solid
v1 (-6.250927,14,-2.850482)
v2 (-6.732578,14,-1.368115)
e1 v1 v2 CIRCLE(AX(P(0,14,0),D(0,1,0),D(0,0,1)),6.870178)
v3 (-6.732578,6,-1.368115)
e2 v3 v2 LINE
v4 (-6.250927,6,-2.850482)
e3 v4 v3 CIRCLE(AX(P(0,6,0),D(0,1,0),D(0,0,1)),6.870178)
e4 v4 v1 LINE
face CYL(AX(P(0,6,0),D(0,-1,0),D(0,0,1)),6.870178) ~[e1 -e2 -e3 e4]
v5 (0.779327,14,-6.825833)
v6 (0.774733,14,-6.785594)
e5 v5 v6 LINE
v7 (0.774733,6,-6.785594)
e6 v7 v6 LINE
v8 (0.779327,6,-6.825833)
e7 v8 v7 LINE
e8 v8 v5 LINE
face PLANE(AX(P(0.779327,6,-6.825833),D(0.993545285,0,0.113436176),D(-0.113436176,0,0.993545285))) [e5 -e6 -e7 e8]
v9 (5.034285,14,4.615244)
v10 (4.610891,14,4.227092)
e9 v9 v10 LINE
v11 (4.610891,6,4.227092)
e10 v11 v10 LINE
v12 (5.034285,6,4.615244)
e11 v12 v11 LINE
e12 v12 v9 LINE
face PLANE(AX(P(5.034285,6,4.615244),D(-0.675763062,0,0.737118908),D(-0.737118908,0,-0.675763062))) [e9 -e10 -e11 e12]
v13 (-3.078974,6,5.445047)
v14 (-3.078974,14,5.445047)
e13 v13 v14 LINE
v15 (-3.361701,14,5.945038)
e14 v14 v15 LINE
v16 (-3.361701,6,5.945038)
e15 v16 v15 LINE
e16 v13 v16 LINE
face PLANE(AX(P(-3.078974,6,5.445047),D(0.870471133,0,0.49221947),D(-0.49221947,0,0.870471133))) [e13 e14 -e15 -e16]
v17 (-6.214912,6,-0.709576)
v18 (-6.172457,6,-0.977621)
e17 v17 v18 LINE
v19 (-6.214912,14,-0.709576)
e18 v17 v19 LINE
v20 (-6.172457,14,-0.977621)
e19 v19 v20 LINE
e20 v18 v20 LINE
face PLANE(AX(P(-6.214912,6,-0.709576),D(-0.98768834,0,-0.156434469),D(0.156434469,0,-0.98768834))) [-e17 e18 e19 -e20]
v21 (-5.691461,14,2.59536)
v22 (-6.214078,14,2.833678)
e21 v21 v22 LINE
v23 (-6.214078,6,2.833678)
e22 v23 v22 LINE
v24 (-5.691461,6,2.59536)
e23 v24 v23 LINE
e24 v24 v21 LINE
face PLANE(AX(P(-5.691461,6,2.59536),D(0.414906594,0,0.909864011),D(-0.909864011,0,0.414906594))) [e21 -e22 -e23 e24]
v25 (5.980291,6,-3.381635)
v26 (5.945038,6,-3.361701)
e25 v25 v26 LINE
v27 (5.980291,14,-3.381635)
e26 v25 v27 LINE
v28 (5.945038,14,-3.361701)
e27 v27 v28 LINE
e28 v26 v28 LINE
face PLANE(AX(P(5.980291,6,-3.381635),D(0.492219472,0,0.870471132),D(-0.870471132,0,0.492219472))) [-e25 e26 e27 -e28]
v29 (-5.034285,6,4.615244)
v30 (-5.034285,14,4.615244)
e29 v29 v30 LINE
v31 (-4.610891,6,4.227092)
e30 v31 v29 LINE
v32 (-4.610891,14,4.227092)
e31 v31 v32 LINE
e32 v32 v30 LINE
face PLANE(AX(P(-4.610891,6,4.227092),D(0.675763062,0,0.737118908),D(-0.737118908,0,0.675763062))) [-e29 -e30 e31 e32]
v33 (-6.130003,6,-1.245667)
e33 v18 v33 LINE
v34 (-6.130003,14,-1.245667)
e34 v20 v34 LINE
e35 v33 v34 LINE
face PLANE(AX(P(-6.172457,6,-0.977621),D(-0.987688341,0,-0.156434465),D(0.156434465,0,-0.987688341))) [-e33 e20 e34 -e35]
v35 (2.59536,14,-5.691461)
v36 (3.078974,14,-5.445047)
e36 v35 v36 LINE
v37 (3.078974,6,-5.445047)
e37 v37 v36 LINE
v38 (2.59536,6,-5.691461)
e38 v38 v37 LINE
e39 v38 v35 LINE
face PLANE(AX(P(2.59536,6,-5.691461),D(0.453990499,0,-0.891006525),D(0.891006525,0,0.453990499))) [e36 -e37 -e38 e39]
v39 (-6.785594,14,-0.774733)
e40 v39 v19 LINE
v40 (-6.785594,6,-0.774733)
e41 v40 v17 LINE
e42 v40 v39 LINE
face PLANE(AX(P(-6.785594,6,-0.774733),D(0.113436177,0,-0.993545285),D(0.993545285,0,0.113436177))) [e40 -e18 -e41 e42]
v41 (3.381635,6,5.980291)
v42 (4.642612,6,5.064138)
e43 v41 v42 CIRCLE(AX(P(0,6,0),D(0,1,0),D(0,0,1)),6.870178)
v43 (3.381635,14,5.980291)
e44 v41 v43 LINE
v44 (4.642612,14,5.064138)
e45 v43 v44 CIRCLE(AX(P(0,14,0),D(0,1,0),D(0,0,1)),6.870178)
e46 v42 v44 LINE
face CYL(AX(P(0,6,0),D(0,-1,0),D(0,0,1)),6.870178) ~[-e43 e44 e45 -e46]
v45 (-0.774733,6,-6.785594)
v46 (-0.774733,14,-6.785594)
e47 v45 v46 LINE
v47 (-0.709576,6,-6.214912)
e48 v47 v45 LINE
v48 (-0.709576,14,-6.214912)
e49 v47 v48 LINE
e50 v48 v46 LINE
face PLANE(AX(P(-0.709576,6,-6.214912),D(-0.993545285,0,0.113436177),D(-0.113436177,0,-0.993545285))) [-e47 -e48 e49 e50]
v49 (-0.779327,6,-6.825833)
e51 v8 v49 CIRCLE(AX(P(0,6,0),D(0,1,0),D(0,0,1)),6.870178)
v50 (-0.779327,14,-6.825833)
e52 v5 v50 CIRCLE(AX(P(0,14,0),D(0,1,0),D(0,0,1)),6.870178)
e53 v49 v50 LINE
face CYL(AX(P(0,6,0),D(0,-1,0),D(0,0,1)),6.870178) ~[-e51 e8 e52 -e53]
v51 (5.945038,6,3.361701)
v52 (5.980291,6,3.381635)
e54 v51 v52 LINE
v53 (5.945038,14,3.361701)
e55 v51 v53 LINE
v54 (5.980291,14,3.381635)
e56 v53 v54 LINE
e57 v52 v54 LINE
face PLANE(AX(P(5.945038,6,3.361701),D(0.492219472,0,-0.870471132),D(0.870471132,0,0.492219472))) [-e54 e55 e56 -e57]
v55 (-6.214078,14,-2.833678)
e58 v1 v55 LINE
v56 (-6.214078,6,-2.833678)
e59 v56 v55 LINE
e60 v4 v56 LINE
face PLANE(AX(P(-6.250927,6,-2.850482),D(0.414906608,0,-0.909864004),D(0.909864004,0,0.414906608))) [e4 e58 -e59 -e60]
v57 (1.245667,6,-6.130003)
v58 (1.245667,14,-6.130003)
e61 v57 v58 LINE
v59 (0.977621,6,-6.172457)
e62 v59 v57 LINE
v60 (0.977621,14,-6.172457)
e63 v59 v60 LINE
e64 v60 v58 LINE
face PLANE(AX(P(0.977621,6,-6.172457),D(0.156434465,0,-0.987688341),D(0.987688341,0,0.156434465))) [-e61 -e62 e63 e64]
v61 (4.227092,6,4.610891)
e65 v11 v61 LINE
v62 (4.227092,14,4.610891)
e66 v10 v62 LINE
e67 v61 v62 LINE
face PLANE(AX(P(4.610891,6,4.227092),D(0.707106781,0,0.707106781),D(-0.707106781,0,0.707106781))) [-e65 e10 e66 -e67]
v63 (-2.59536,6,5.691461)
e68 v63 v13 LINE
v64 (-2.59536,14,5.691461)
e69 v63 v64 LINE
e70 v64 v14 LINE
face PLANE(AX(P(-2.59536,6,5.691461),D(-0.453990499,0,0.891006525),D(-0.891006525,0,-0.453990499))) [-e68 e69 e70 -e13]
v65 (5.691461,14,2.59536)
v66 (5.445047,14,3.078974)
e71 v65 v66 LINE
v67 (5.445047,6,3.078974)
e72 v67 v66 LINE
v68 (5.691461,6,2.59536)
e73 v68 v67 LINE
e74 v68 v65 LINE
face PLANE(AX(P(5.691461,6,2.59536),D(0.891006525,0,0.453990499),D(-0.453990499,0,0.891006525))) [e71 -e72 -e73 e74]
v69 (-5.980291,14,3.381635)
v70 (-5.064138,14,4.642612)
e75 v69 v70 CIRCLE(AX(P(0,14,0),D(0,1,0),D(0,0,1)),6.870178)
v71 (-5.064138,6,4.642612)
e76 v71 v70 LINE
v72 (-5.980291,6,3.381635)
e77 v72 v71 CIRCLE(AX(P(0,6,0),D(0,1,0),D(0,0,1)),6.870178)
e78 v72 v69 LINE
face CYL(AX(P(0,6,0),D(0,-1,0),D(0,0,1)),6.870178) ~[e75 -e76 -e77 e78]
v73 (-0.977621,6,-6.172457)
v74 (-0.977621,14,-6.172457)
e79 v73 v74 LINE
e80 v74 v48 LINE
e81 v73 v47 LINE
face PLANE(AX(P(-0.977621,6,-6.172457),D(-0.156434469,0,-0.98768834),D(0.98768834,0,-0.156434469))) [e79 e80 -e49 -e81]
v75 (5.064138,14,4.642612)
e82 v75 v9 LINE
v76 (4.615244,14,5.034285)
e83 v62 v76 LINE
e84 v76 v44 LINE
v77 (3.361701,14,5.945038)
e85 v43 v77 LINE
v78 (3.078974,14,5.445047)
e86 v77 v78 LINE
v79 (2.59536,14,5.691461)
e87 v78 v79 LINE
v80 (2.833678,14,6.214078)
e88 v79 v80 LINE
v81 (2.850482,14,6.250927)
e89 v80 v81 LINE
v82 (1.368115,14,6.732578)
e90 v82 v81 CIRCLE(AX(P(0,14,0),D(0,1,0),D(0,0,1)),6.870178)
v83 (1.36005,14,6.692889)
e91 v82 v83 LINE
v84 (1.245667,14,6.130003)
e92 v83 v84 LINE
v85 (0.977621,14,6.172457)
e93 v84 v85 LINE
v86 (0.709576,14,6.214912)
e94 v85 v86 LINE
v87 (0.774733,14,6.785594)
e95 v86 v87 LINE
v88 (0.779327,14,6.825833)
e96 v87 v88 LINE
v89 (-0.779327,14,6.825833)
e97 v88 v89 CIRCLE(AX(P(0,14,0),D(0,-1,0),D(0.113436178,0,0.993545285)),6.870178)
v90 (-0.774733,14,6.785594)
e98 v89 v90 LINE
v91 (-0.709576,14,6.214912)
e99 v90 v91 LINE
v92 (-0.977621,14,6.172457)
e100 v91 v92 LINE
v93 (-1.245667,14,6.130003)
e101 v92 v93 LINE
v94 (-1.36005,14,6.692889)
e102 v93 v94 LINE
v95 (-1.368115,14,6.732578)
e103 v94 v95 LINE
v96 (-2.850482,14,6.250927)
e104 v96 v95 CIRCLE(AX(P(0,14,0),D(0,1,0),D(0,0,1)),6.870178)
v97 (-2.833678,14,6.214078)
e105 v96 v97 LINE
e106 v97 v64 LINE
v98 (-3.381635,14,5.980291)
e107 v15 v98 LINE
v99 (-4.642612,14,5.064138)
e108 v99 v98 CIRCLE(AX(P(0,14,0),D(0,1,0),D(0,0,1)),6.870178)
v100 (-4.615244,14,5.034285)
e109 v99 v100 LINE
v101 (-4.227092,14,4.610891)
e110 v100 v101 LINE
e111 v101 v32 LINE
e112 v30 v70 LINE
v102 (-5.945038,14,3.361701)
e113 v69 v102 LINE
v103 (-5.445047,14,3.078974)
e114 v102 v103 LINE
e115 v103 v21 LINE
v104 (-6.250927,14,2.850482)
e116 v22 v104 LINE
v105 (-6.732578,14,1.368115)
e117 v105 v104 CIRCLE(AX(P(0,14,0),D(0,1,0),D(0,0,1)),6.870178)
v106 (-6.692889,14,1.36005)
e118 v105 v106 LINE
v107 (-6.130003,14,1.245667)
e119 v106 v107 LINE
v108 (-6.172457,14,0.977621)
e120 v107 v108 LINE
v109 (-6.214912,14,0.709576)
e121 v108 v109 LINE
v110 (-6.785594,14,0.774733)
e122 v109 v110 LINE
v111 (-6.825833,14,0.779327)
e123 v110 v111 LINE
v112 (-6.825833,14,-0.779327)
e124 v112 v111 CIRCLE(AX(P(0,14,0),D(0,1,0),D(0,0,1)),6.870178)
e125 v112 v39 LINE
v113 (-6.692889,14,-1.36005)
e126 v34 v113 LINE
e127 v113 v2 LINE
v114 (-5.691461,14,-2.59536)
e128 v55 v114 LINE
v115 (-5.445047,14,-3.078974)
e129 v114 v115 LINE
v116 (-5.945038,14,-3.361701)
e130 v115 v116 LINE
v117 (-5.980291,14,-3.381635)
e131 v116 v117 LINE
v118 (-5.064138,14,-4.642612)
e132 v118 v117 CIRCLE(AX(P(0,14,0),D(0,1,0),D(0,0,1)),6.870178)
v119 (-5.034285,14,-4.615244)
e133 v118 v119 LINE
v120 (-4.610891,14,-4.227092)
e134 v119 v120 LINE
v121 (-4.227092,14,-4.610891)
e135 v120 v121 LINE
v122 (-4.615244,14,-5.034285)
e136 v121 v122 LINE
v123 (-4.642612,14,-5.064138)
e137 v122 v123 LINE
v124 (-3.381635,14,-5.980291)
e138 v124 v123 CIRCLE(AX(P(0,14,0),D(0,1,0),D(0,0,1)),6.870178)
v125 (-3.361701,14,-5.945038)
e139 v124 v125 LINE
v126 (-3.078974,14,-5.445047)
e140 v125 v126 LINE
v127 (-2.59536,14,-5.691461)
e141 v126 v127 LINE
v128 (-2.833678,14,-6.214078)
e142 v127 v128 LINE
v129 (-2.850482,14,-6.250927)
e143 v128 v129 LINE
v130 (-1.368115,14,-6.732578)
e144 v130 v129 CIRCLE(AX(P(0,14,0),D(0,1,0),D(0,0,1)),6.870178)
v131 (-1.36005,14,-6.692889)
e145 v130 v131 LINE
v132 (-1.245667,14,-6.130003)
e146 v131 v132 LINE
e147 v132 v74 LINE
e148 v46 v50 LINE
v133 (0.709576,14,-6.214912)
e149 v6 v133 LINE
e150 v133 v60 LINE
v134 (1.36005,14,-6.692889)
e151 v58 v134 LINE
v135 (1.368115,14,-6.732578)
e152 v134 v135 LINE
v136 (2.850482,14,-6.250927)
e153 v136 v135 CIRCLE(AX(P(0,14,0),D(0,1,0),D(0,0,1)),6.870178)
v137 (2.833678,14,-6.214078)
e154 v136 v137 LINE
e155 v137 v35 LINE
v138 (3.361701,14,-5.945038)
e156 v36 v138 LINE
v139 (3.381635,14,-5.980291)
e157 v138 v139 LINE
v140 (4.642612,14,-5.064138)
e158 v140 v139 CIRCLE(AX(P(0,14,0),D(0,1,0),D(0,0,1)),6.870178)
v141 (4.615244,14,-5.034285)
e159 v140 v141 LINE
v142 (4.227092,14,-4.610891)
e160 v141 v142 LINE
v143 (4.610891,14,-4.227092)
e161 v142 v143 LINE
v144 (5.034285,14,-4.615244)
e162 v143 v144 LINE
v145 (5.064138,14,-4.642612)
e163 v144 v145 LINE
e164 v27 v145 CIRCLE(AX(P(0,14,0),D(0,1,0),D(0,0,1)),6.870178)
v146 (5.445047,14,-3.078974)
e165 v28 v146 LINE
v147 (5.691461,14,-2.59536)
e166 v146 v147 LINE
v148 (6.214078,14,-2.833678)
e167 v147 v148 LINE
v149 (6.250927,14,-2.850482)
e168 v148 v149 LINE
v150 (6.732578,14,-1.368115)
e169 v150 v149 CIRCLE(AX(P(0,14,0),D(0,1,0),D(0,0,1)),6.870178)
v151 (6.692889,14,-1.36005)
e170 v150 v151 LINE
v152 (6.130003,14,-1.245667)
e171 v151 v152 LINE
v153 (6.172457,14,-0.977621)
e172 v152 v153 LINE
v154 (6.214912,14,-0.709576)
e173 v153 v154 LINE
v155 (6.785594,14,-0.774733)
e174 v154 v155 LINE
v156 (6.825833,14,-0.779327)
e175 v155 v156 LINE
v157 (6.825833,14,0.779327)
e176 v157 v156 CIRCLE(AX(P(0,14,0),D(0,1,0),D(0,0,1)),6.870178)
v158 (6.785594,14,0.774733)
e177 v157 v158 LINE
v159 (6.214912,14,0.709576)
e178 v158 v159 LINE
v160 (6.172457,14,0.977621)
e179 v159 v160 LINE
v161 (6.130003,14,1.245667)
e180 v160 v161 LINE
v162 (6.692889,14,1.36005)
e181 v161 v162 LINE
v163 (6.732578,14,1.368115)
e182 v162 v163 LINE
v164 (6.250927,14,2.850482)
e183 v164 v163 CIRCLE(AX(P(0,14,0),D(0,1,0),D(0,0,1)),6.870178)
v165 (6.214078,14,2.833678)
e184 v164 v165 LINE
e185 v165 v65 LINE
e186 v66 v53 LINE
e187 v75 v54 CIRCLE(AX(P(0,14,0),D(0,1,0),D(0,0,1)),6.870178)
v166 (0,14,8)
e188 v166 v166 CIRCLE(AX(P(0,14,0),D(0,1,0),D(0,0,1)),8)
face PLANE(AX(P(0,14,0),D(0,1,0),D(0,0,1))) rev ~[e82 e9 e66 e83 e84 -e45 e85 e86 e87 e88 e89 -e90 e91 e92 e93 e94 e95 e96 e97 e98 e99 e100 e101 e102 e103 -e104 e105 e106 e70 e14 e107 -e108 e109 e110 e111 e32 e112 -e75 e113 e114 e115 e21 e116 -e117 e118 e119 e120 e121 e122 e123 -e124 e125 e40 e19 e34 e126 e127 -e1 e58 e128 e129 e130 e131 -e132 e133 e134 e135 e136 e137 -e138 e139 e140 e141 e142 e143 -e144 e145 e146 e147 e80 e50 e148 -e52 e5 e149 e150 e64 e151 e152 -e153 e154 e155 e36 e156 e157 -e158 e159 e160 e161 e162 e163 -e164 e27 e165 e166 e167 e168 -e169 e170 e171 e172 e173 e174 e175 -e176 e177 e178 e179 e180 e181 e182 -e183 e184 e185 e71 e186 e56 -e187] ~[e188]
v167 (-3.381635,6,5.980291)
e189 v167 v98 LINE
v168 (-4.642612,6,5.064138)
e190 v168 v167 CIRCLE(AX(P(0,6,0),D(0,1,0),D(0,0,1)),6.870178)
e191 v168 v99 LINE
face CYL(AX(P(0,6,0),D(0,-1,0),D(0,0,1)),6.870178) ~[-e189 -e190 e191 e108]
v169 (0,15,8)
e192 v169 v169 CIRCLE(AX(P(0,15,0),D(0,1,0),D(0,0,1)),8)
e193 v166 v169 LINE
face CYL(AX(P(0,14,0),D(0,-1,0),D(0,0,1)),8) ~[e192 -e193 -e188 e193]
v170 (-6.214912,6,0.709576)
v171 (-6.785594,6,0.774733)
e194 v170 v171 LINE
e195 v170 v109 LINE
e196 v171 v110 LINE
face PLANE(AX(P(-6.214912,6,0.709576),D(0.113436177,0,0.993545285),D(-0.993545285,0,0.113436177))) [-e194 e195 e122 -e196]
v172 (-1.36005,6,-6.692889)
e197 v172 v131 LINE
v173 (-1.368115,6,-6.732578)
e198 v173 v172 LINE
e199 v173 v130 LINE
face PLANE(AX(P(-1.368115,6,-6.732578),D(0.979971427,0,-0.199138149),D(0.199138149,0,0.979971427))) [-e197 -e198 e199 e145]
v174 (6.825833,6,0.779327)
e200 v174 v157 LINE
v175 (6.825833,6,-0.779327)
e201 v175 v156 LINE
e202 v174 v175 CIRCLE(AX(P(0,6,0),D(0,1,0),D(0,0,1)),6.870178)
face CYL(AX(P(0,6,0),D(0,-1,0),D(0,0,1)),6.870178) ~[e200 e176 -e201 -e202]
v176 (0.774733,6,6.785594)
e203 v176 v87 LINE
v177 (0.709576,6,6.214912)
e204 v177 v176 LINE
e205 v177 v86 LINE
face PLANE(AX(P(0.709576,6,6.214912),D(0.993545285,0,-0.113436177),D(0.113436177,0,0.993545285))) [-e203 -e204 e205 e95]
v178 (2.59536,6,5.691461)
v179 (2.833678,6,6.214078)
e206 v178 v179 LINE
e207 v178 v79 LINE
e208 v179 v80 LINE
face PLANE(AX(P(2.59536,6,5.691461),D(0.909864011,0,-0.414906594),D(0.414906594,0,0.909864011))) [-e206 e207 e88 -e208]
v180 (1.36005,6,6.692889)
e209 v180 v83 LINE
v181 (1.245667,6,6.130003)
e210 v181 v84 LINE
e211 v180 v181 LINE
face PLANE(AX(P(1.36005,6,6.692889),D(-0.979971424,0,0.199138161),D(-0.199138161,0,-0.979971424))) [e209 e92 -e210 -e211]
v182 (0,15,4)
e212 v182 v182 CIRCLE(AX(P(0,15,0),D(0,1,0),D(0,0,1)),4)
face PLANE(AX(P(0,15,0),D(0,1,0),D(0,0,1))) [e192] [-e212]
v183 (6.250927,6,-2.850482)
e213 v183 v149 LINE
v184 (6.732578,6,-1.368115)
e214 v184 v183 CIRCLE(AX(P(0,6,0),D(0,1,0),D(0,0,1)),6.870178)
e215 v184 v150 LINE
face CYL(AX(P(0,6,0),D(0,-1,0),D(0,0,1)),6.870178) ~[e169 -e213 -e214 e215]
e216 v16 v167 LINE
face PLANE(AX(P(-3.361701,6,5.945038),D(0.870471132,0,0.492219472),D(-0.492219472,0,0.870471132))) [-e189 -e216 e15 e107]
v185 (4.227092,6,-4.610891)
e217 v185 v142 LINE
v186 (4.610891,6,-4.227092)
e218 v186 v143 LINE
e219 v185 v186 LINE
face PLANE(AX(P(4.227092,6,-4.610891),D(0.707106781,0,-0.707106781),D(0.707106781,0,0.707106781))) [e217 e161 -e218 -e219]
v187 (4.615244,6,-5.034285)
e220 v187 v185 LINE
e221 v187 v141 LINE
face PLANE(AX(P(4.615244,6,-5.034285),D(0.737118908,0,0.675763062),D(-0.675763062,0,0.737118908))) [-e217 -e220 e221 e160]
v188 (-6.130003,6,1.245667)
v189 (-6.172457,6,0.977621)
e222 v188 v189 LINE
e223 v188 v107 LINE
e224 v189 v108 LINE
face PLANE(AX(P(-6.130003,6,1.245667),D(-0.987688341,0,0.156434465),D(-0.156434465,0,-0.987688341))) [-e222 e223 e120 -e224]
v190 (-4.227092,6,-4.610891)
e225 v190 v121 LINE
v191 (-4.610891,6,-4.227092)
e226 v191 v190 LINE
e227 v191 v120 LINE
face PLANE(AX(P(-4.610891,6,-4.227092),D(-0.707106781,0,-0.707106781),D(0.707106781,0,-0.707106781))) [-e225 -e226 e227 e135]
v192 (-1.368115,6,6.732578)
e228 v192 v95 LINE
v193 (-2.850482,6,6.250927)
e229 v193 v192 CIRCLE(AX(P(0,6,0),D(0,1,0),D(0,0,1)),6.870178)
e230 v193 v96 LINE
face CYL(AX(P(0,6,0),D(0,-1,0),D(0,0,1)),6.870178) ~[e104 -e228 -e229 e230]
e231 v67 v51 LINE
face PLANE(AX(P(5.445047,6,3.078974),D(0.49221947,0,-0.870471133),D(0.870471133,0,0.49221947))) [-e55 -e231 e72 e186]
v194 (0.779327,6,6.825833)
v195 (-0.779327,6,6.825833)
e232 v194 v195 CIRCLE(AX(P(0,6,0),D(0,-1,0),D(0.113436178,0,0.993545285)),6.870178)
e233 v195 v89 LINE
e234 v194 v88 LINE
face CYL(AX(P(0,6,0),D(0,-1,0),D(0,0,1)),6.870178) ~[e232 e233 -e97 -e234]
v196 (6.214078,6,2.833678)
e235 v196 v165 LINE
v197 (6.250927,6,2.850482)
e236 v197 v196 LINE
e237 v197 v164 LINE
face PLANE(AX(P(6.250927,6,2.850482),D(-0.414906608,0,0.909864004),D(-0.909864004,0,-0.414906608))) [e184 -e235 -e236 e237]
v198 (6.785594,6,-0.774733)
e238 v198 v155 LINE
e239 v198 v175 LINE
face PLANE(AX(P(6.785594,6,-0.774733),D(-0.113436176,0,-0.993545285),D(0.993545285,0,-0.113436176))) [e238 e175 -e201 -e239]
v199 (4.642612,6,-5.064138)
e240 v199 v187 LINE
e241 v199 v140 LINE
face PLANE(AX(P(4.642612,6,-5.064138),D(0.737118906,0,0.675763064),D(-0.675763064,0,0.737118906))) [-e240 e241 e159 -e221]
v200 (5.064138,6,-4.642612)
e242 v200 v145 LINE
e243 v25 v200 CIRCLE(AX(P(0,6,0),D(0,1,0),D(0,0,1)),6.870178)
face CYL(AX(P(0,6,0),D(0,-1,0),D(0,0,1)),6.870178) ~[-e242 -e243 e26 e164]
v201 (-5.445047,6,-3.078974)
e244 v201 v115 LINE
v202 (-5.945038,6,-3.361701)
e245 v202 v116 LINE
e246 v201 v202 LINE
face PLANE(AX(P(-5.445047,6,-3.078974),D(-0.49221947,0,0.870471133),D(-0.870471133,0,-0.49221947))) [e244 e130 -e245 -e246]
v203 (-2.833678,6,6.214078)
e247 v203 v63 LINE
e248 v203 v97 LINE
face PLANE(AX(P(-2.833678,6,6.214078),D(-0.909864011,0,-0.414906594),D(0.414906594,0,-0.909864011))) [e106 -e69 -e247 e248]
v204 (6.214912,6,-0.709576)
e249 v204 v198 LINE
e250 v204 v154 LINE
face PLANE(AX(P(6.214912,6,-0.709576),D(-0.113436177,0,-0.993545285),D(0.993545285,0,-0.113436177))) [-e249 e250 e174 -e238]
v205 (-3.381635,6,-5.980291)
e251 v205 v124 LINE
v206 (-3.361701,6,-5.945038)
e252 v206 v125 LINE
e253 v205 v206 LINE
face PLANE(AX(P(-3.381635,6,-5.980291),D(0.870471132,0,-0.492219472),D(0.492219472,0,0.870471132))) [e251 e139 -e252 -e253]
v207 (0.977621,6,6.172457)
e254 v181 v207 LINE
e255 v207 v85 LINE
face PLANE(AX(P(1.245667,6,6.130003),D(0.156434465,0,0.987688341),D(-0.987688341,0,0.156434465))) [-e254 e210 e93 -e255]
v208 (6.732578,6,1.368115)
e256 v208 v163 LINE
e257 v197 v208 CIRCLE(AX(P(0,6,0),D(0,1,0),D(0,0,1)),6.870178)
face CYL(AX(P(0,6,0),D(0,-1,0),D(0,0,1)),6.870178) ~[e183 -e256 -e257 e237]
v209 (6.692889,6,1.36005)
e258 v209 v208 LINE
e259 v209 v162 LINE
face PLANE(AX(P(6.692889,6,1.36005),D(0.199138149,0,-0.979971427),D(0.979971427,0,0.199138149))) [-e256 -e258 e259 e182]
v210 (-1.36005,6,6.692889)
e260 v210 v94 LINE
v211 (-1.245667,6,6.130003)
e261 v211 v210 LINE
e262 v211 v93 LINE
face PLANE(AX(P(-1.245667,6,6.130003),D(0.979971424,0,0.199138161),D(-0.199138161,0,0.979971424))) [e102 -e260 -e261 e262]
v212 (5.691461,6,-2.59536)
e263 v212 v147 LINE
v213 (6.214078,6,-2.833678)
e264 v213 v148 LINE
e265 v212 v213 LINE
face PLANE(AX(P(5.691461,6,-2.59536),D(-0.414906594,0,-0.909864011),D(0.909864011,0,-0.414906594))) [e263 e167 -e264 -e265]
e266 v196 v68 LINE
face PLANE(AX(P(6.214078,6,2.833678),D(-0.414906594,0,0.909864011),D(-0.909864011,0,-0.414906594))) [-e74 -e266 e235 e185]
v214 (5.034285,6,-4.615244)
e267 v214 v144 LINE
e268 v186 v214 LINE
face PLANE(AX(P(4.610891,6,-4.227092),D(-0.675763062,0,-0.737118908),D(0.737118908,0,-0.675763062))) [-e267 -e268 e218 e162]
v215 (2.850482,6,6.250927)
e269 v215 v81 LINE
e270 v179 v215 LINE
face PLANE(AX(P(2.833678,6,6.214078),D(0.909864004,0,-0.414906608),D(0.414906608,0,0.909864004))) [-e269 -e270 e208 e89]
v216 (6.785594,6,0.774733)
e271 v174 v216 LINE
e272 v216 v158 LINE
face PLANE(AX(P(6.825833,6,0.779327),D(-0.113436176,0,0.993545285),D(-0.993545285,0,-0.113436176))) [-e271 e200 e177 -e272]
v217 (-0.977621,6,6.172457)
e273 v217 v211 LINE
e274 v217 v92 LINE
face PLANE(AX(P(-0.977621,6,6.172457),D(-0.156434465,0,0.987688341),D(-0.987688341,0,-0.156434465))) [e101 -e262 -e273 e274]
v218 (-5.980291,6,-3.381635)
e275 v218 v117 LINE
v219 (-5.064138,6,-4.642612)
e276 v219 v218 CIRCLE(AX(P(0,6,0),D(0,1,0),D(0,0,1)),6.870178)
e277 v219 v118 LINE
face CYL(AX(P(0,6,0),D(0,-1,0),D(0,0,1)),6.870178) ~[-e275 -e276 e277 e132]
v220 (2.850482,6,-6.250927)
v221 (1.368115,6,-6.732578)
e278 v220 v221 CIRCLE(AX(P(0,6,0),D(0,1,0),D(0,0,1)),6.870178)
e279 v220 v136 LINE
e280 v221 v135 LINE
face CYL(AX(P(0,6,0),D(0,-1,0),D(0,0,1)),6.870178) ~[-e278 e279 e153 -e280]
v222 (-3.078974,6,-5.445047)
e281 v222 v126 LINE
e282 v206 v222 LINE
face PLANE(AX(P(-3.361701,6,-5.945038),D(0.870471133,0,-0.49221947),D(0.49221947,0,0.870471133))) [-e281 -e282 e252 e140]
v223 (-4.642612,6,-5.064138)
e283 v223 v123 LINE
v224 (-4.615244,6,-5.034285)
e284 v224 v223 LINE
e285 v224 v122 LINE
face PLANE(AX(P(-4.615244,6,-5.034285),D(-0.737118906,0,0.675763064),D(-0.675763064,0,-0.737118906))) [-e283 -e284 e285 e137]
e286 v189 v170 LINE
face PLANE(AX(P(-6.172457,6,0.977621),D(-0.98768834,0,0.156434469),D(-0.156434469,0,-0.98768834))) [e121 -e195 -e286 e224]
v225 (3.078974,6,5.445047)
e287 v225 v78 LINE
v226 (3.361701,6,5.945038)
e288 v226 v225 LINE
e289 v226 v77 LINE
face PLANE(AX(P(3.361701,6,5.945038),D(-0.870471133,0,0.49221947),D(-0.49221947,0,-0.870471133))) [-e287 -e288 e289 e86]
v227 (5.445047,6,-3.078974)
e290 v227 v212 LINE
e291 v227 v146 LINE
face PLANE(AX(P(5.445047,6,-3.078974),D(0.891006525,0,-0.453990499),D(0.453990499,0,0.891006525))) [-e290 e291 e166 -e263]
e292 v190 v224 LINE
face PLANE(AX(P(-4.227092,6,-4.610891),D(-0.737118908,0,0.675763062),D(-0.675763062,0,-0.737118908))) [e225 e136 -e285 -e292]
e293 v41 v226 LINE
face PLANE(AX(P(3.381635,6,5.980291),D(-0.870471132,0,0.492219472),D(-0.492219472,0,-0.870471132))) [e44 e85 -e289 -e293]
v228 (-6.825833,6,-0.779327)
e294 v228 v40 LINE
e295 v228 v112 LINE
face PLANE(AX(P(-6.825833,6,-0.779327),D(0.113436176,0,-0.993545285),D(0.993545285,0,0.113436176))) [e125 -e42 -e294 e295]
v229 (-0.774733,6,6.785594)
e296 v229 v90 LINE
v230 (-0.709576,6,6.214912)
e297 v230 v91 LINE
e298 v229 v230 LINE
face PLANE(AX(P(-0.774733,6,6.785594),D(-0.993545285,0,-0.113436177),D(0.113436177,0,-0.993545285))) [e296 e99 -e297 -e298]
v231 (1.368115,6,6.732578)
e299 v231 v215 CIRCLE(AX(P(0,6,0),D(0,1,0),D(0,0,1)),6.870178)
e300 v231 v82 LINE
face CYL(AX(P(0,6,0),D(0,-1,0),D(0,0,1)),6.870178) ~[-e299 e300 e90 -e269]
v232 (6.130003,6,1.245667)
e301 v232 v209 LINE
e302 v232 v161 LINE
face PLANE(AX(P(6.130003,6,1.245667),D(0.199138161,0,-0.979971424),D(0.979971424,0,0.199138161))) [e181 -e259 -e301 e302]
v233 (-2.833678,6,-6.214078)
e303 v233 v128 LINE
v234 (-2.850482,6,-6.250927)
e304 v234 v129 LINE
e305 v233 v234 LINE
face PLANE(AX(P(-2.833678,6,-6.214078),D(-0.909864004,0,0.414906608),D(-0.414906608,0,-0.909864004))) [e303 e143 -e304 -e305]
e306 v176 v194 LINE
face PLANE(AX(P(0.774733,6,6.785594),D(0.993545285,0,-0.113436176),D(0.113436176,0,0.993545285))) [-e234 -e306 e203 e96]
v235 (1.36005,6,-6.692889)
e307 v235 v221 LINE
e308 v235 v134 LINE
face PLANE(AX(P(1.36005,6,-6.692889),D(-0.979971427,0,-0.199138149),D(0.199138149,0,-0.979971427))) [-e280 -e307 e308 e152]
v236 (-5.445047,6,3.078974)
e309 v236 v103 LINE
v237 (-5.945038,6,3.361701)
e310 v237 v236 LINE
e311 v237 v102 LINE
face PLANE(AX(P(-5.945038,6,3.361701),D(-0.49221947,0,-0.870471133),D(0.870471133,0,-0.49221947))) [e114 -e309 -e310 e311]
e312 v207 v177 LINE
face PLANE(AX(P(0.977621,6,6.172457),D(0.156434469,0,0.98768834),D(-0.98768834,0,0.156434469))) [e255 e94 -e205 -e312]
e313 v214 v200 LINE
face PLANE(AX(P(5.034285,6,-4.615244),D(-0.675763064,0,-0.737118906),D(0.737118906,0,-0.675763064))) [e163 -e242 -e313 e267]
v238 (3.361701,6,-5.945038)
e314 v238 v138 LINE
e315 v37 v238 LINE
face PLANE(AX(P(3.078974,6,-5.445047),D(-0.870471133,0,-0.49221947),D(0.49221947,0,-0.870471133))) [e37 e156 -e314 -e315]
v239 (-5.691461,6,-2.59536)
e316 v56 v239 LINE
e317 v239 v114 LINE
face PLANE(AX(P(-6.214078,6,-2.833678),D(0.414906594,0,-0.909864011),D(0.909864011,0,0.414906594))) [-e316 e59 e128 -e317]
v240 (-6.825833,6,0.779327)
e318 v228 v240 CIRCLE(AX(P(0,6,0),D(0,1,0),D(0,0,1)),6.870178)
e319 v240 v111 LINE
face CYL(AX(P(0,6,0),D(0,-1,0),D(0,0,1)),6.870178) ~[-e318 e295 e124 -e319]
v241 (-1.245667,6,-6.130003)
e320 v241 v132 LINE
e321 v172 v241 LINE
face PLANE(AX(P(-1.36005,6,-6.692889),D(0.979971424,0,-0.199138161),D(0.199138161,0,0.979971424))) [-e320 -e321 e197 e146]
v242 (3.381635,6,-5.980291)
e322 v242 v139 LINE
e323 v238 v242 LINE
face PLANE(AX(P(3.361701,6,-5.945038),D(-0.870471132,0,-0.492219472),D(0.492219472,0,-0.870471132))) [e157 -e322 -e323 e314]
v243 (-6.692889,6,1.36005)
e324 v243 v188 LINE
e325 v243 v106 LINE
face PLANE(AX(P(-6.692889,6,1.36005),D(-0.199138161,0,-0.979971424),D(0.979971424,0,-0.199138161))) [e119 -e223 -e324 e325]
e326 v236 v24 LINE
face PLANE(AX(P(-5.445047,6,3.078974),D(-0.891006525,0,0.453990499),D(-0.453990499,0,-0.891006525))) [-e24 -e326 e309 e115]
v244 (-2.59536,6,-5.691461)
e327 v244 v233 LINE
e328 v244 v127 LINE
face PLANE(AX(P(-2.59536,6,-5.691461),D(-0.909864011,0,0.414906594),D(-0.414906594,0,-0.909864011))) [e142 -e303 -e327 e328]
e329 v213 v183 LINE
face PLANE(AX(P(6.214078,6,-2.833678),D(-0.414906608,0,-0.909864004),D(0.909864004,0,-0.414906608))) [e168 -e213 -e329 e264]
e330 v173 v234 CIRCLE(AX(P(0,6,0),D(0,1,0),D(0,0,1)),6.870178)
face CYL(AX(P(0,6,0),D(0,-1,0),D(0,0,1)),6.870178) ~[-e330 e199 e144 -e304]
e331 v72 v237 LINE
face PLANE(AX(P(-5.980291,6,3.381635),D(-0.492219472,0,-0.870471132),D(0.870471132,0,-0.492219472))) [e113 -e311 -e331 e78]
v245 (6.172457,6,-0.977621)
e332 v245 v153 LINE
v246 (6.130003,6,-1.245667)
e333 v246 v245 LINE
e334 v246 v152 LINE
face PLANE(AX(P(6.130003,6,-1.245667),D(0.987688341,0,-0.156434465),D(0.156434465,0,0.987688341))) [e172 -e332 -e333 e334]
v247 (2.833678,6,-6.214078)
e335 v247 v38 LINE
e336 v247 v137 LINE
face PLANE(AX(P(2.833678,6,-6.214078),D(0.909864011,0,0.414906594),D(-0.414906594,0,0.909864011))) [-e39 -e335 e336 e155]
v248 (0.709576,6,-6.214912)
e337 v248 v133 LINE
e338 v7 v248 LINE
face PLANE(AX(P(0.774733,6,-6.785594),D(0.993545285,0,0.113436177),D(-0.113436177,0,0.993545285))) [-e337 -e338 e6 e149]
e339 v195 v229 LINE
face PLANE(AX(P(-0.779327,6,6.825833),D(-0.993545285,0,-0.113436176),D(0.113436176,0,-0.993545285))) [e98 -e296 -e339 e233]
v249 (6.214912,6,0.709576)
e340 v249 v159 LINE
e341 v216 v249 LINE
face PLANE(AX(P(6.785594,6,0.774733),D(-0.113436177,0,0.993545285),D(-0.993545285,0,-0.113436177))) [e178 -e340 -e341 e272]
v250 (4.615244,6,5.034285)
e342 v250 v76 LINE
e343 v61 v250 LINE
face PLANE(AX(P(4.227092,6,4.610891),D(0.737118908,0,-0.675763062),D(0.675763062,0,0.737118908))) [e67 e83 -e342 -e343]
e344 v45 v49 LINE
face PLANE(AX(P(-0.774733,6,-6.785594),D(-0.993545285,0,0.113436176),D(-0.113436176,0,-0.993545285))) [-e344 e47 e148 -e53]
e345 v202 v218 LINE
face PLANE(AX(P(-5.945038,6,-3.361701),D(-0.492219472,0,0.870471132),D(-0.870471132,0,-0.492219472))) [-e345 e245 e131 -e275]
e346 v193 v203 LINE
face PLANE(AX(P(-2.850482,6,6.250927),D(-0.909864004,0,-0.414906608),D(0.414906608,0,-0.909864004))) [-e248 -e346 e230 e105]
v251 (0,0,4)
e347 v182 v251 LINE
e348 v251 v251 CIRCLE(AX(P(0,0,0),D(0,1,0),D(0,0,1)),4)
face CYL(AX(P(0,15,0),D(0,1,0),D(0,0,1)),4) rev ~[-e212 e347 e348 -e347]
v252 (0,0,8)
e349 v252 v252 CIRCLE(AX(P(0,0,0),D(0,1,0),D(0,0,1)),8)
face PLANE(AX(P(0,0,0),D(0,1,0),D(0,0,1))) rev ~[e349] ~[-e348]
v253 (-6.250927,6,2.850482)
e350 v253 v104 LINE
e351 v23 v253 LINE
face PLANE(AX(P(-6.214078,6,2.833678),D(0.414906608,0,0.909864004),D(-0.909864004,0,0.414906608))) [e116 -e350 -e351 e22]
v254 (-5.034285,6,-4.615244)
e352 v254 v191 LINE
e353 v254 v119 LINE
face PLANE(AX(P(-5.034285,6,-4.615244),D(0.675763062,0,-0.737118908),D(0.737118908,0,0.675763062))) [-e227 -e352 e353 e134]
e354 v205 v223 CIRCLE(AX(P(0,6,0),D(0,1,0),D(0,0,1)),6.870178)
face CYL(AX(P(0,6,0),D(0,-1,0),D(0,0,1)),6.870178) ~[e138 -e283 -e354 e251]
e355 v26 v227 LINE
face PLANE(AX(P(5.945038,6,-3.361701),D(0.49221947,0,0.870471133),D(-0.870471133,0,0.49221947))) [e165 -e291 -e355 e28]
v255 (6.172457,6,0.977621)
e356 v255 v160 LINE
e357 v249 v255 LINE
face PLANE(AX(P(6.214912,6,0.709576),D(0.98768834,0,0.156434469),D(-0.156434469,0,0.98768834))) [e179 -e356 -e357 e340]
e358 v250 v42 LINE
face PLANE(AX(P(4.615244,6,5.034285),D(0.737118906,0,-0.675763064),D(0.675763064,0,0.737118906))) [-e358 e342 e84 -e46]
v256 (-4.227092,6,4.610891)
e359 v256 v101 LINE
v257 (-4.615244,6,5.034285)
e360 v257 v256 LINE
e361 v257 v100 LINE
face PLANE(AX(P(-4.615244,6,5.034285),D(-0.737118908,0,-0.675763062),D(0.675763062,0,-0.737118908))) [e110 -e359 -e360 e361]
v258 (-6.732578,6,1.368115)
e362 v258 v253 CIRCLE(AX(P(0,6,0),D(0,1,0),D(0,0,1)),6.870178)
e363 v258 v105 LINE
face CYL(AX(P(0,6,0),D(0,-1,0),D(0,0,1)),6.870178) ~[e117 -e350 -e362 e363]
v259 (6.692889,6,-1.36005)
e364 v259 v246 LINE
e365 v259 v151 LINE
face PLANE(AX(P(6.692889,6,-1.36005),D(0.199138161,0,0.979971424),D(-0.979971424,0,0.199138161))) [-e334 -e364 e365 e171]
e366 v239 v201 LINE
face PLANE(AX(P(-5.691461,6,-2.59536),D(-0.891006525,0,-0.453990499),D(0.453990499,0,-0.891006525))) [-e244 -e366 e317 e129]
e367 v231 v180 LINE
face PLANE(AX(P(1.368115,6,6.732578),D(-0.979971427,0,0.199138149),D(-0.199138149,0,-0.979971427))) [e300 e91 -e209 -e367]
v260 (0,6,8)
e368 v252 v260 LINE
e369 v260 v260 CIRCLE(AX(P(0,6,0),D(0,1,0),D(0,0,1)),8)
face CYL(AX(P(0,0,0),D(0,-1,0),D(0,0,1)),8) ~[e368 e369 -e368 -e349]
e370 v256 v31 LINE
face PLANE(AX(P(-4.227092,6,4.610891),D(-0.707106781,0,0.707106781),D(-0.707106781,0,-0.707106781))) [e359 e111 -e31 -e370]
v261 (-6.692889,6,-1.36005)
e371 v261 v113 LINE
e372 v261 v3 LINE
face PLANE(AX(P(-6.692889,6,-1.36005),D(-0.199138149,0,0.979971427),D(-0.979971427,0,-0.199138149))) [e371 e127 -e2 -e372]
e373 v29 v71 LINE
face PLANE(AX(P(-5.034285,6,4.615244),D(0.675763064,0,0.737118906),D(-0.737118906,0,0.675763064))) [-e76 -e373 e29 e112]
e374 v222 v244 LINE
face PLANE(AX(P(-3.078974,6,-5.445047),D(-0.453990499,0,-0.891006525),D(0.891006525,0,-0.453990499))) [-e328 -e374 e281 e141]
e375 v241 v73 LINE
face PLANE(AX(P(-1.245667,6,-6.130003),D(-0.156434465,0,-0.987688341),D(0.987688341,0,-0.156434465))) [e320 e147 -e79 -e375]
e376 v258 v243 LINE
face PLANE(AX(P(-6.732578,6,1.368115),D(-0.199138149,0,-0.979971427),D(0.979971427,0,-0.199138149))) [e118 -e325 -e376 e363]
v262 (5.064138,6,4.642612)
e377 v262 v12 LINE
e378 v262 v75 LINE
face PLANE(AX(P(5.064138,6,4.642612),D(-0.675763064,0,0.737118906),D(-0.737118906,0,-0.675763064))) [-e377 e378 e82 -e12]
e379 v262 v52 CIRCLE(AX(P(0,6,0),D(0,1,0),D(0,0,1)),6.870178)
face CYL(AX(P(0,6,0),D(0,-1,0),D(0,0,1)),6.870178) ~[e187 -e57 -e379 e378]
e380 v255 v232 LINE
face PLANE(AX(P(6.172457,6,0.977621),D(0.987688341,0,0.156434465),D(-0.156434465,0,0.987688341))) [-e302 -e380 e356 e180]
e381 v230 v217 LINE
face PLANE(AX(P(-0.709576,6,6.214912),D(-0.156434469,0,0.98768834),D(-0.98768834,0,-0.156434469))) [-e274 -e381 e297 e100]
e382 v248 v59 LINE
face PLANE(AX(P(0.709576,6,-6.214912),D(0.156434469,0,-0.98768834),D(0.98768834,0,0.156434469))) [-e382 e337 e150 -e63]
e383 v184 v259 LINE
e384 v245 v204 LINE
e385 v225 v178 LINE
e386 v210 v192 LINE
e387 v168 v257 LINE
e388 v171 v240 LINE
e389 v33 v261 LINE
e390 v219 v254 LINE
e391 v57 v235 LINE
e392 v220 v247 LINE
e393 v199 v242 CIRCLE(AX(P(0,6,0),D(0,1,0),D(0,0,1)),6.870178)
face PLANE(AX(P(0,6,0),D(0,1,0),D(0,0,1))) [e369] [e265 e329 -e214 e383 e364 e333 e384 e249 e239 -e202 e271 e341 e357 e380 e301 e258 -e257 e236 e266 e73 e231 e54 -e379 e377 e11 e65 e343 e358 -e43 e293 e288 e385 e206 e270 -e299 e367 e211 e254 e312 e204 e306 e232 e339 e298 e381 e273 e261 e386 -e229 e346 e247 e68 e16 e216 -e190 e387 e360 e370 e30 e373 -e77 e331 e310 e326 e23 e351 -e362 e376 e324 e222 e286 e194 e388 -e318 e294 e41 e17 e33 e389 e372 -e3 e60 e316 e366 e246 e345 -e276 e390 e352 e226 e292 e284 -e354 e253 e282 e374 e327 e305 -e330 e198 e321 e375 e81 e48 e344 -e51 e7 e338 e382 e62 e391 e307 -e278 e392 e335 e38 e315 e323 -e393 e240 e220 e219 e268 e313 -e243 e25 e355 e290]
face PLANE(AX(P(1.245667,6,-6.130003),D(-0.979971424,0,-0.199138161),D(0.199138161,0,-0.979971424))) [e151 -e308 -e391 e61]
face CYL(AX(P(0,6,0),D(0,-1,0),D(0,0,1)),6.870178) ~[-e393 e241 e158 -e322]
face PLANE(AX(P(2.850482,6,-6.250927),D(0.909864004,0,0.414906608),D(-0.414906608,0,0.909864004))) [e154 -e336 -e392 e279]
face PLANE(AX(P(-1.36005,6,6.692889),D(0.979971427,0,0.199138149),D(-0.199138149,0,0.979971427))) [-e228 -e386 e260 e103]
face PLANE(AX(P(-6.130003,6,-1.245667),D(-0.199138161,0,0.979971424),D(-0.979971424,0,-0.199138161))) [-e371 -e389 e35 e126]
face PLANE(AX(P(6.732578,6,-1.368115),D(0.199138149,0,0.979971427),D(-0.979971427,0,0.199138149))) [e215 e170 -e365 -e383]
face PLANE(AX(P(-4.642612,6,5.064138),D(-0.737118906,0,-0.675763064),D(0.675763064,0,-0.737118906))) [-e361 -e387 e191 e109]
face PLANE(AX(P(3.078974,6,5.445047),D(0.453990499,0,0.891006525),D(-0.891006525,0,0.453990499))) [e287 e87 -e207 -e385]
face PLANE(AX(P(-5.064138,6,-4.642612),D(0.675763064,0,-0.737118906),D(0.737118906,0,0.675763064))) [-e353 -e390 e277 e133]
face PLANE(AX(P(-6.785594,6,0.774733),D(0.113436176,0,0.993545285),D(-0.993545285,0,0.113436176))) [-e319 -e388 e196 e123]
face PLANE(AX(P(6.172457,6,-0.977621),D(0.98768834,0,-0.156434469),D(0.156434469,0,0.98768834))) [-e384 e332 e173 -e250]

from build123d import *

# Parameters (mm, degrees)
SKETCH_1_R          = 8
EXTRUDE_1_DEPTH     = 6
SKETCH_2_R          = 6.870177757
EXTRUDE_2_DEPTH     = 8
CUT_EXTRUDE_START   = -8
CUT_EXTRUDE_1_DEPTH = 8
SKETCH_4_R          = 8
EXTRUDE_3_DEPTH     = 1
SKETCH_5_R          = 4
CUT_EXTRUDE_2_DEPTH = 19.788294228


with BuildPart() as part:
    # 草图1 → 凸台-拉伸1 (new body)
    with BuildSketch(Plane(origin=(0, 0, 0), x_dir=(1, 0, 0), z_dir=(0, 1, 0))):
        with Locations(Location((0, 0, 0), (0, 0, 270))):
            Circle(SKETCH_1_R)
    extrude(amount=EXTRUDE_1_DEPTH)

    # 草图2 → 凸台-拉伸2 (add)
    with BuildSketch(Plane(origin=(0, 6, 0), x_dir=(1, 0, 0), z_dir=(0, 1, 0))):
        with Locations(Location((0, 0, 0), (0, 0, 270))):
            Circle(SKETCH_2_R)
    extrude(amount=EXTRUDE_2_DEPTH)

    # 草图3 → 切除-拉伸1 (cut)
    with BuildSketch(Plane(origin=(0, 14, 0), x_dir=(1, 0, 0), z_dir=(0, 1, 0)).offset(CUT_EXTRUDE_START)):
        with BuildLine():
            Line((-0.70957594, 6.214911676), (-0.774732582, 6.785594468))
            Line((-0.774732582, 6.785594468), (-0.779326709, 6.825832718))
            ThreePointArc((-0.779326709, 6.825832718), (-1.074732582, 6.785594468), (-1.368114565, 6.732577883))
            Line((-1.368114565, 6.732577883), (-1.360049537, 6.69288937))
            Line((-1.360049537, 6.69288937), (-1.245666505, 6.130003271))
            Line((-1.245666505, 6.130003271), (-0.977621222, 6.172457473))
            Line((-0.977621222, 6.172457473), (-0.70957594, 6.214911676))
        make_face()
        with BuildLine():
            Line((1.245666505, 6.130003271), (1.360049537, 6.69288937))
            Line((1.360049537, 6.69288937), (1.368114565, 6.732577883))
            ThreePointArc((1.368114565, 6.732577883), (1.074732582, 6.785594468), (0.779326709, 6.825832718))
            Line((0.779326709, 6.825832718), (0.774732582, 6.785594468))
            Line((0.774732582, 6.785594468), (0.70957594, 6.214911676))
            Line((0.70957594, 6.214911676), (0.977621222, 6.172457473))
            Line((0.977621222, 6.172457473), (1.245666505, 6.130003271))
        make_face()
        with BuildLine():
            Line((3.078974433, 5.445047437), (3.361700531, 5.945037628))
            Line((3.361700531, 5.945037628), (3.381635254, 5.980291416))
            ThreePointArc((3.381635254, 5.980291416), (3.118995433, 6.121373204), (2.850482056, 6.250927488))
            Line((2.850482056, 6.250927488), (2.833678478, 6.214078302))
            Line((2.833678478, 6.214078302), (2.595360147, 5.691461223))
            Line((2.595360147, 5.691461223), (2.83716729, 5.56825433))
            Line((2.83716729, 5.56825433), (3.078974433, 5.445047437))
        make_face()
        with BuildLine():
            Line((4.610890891, 4.227092421), (5.034284855, 4.615244181))
            Line((5.034284855, 4.615244181), (5.064137923, 4.642612358))
            ThreePointArc((5.064137923, 4.642612358), (4.85794928, 4.85794928), (4.642612358, 5.064137923))
            Line((4.642612358, 5.064137923), (4.615244181, 5.034284855))
            Line((4.615244181, 5.034284855), (4.227092421, 4.610890891))
            Line((4.227092421, 4.610890891), (4.418991656, 4.418991656))
            Line((4.418991656, 4.418991656), (4.610890891, 4.227092421))
        make_face()
        with BuildLine():
            Line((5.691461223, 2.595360147), (6.214078302, 2.833678478))
            Line((6.214078302, 2.833678478), (6.250927488, 2.850482056))
            ThreePointArc((6.250927488, 2.850482056), (6.121373204, 3.118995433), (5.980291416, 3.381635254))
            Line((5.980291416, 3.381635254), (5.945037628, 3.361700531))
            Line((5.945037628, 3.361700531), (5.445047437, 3.078974433))
            Line((5.445047437, 3.078974433), (5.56825433, 2.83716729))
            Line((5.56825433, 2.83716729), (5.691461223, 2.595360147))
        make_face()
        with BuildLine():
            Line((6.214911676, 0.70957594), (6.785594468, 0.774732582))
            Line((6.785594468, 0.774732582), (6.825832718, 0.779326709))
            ThreePointArc((6.825832718, 0.779326709), (6.785594468, 1.074732582), (6.732577883, 1.368114565))
            Line((6.732577883, 1.368114565), (6.69288937, 1.360049537))
            Line((6.69288937, 1.360049537), (6.130003271, 1.245666505))
            Line((6.130003271, 1.245666505), (6.172457473, 0.977621222))
            Line((6.172457473, 0.977621222), (6.214911676, 0.70957594))
        make_face()
        with BuildLine():
            Line((6.130003271, -1.245666505), (6.69288937, -1.360049537))
            Line((6.69288937, -1.360049537), (6.732577883, -1.368114565))
            ThreePointArc((6.732577883, -1.368114565), (6.785594468, -1.074732582), (6.825832718, -0.779326709))
            Line((6.825832718, -0.779326709), (6.785594468, -0.774732582))
            Line((6.785594468, -0.774732582), (6.214911676, -0.70957594))
            Line((6.214911676, -0.70957594), (6.172457473, -0.977621222))
            Line((6.172457473, -0.977621222), (6.130003271, -1.245666505))
        make_face()
        with BuildLine():
            Line((5.445047437, -3.078974433), (5.945037628, -3.361700531))
            Line((5.945037628, -3.361700531), (5.980291416, -3.381635254))
            ThreePointArc((5.980291416, -3.381635254), (6.121373204, -3.118995433), (6.250927488, -2.850482056))
            Line((6.250927488, -2.850482056), (6.214078302, -2.833678478))
            Line((6.214078302, -2.833678478), (5.691461223, -2.595360147))
            Line((5.691461223, -2.595360147), (5.56825433, -2.83716729))
            Line((5.56825433, -2.83716729), (5.445047437, -3.078974433))
        make_face()
        with BuildLine():
            Line((4.227092421, -4.610890891), (4.615244181, -5.034284855))
            Line((4.615244181, -5.034284855), (4.642612358, -5.064137923))
            ThreePointArc((4.642612358, -5.064137923), (4.85794928, -4.85794928), (5.064137923, -4.642612358))
            Line((5.064137923, -4.642612358), (5.034284855, -4.615244181))
            Line((5.034284855, -4.615244181), (4.610890891, -4.227092421))
            Line((4.610890891, -4.227092421), (4.418991656, -4.418991656))
            Line((4.418991656, -4.418991656), (4.227092421, -4.610890891))
        make_face()
        with BuildLine():
            Line((2.595360147, -5.691461223), (2.833678478, -6.214078302))
            Line((2.833678478, -6.214078302), (2.850482056, -6.250927488))
            ThreePointArc((2.850482056, -6.250927488), (3.118995433, -6.121373204), (3.381635254, -5.980291416))
            Line((3.381635254, -5.980291416), (3.361700531, -5.945037628))
            Line((3.361700531, -5.945037628), (3.078974433, -5.445047437))
            Line((3.078974433, -5.445047437), (2.83716729, -5.56825433))
            Line((2.83716729, -5.56825433), (2.595360147, -5.691461223))
        make_face()
        with BuildLine():
            Line((0.70957594, -6.214911676), (0.774732582, -6.785594468))
            Line((0.774732582, -6.785594468), (0.779326709, -6.825832718))
            ThreePointArc((0.779326709, -6.825832718), (1.074732582, -6.785594468), (1.368114565, -6.732577883))
            Line((1.368114565, -6.732577883), (1.360049537, -6.69288937))
            Line((1.360049537, -6.69288937), (1.245666505, -6.130003271))
            Line((1.245666505, -6.130003271), (0.977621222, -6.172457473))
            Line((0.977621222, -6.172457473), (0.70957594, -6.214911676))
        make_face()
        with BuildLine():
            Line((-1.245666505, -6.130003271), (-1.360049537, -6.69288937))
            Line((-1.360049537, -6.69288937), (-1.368114565, -6.732577883))
            ThreePointArc((-1.368114565, -6.732577883), (-1.074732582, -6.785594468), (-0.779326709, -6.825832718))
            Line((-0.779326709, -6.825832718), (-0.774732582, -6.785594468))
            Line((-0.774732582, -6.785594468), (-0.70957594, -6.214911676))
            Line((-0.70957594, -6.214911676), (-0.977621222, -6.172457473))
            Line((-0.977621222, -6.172457473), (-1.245666505, -6.130003271))
        make_face()
        with BuildLine():
            Line((-3.078974433, -5.445047437), (-3.361700531, -5.945037628))
            Line((-3.361700531, -5.945037628), (-3.381635254, -5.980291416))
            ThreePointArc((-3.381635254, -5.980291416), (-3.118995433, -6.121373204), (-2.850482056, -6.250927488))
            Line((-2.850482056, -6.250927488), (-2.833678478, -6.214078302))
            Line((-2.833678478, -6.214078302), (-2.595360147, -5.691461223))
            Line((-2.595360147, -5.691461223), (-2.83716729, -5.56825433))
            Line((-2.83716729, -5.56825433), (-3.078974433, -5.445047437))
        make_face()
        with BuildLine():
            Line((-4.610890891, -4.227092421), (-5.034284855, -4.615244181))
            Line((-5.034284855, -4.615244181), (-5.064137923, -4.642612358))
            ThreePointArc((-5.064137923, -4.642612358), (-4.85794928, -4.85794928), (-4.642612358, -5.064137923))
            Line((-4.642612358, -5.064137923), (-4.615244181, -5.034284855))
            Line((-4.615244181, -5.034284855), (-4.227092421, -4.610890891))
            Line((-4.227092421, -4.610890891), (-4.418991656, -4.418991656))
            Line((-4.418991656, -4.418991656), (-4.610890891, -4.227092421))
        make_face()
        with BuildLine():
            Line((-5.691461223, -2.595360147), (-6.214078302, -2.833678478))
            Line((-6.214078302, -2.833678478), (-6.250927488, -2.850482056))
            ThreePointArc((-6.250927488, -2.850482056), (-6.121373204, -3.118995433), (-5.980291416, -3.381635254))
            Line((-5.980291416, -3.381635254), (-5.945037628, -3.361700531))
            Line((-5.945037628, -3.361700531), (-5.445047437, -3.078974433))
            Line((-5.445047437, -3.078974433), (-5.56825433, -2.83716729))
            Line((-5.56825433, -2.83716729), (-5.691461223, -2.595360147))
        make_face()
        with BuildLine():
            Line((-6.214911676, -0.70957594), (-6.785594468, -0.774732582))
            Line((-6.785594468, -0.774732582), (-6.825832718, -0.779326709))
            ThreePointArc((-6.825832718, -0.779326709), (-6.785594468, -1.074732582), (-6.732577883, -1.368114565))
            Line((-6.732577883, -1.368114565), (-6.69288937, -1.360049537))
            Line((-6.69288937, -1.360049537), (-6.130003271, -1.245666505))
            Line((-6.130003271, -1.245666505), (-6.172457473, -0.977621222))
            Line((-6.172457473, -0.977621222), (-6.214911676, -0.70957594))
        make_face()
        with BuildLine():
            Line((-6.130003271, 1.245666505), (-6.69288937, 1.360049537))
            Line((-6.69288937, 1.360049537), (-6.732577883, 1.368114565))
            ThreePointArc((-6.732577883, 1.368114565), (-6.785594468, 1.074732582), (-6.825832718, 0.779326709))
            Line((-6.825832718, 0.779326709), (-6.785594468, 0.774732582))
            Line((-6.785594468, 0.774732582), (-6.214911676, 0.70957594))
            Line((-6.214911676, 0.70957594), (-6.172457473, 0.977621222))
            Line((-6.172457473, 0.977621222), (-6.130003271, 1.245666505))
        make_face()
        with BuildLine():
            Line((-5.445047437, 3.078974433), (-5.945037628, 3.361700531))
            Line((-5.945037628, 3.361700531), (-5.980291416, 3.381635254))
            ThreePointArc((-5.980291416, 3.381635254), (-6.121373204, 3.118995433), (-6.250927488, 2.850482056))
            Line((-6.250927488, 2.850482056), (-6.214078302, 2.833678478))
            Line((-6.214078302, 2.833678478), (-5.691461223, 2.595360147))
            Line((-5.691461223, 2.595360147), (-5.56825433, 2.83716729))
            Line((-5.56825433, 2.83716729), (-5.445047437, 3.078974433))
        make_face()
        with BuildLine():
            Line((-4.227092421, 4.610890891), (-4.615244181, 5.034284855))
            Line((-4.615244181, 5.034284855), (-4.642612358, 5.064137923))
            ThreePointArc((-4.642612358, 5.064137923), (-4.85794928, 4.85794928), (-5.064137923, 4.642612358))
            Line((-5.064137923, 4.642612358), (-5.034284855, 4.615244181))
            Line((-5.034284855, 4.615244181), (-4.610890891, 4.227092421))
            Line((-4.610890891, 4.227092421), (-4.418991656, 4.418991656))
            Line((-4.418991656, 4.418991656), (-4.227092421, 4.610890891))
        make_face()
        with BuildLine():
            Line((-2.595360147, 5.691461223), (-2.833678478, 6.214078302))
            Line((-2.833678478, 6.214078302), (-2.850482056, 6.250927488))
            ThreePointArc((-2.850482056, 6.250927488), (-3.118995433, 6.121373204), (-3.381635254, 5.980291416))
            Line((-3.381635254, 5.980291416), (-3.361700531, 5.945037628))
            Line((-3.361700531, 5.945037628), (-3.078974433, 5.445047437))
            Line((-3.078974433, 5.445047437), (-2.83716729, 5.56825433))
            Line((-2.83716729, 5.56825433), (-2.595360147, 5.691461223))
        make_face()
    extrude(amount=CUT_EXTRUDE_1_DEPTH, mode=Mode.SUBTRACT)

    # 草图4 → 凸台-拉伸3 (add)
    with BuildSketch(Plane(origin=(0, 14, 0), x_dir=(1, 0, 0), z_dir=(0, 1, 0))):
        with Locations(Location((0, 0, 0), (0, 0, 270))):
            Circle(SKETCH_4_R)
    extrude(amount=EXTRUDE_3_DEPTH)

    # 草图5 → 切除-拉伸2 (cut, through all)
    with BuildSketch(Plane(origin=(0, 15, 0), x_dir=(1, 0, 0), z_dir=(0, 1, 0))):
        with Locations(Location((0, 0, 0), (0, 0, 270))):
            Circle(SKETCH_5_R)
    extrude(amount=-CUT_EXTRUDE_2_DEPTH, mode=Mode.SUBTRACT)


solid = part.part
